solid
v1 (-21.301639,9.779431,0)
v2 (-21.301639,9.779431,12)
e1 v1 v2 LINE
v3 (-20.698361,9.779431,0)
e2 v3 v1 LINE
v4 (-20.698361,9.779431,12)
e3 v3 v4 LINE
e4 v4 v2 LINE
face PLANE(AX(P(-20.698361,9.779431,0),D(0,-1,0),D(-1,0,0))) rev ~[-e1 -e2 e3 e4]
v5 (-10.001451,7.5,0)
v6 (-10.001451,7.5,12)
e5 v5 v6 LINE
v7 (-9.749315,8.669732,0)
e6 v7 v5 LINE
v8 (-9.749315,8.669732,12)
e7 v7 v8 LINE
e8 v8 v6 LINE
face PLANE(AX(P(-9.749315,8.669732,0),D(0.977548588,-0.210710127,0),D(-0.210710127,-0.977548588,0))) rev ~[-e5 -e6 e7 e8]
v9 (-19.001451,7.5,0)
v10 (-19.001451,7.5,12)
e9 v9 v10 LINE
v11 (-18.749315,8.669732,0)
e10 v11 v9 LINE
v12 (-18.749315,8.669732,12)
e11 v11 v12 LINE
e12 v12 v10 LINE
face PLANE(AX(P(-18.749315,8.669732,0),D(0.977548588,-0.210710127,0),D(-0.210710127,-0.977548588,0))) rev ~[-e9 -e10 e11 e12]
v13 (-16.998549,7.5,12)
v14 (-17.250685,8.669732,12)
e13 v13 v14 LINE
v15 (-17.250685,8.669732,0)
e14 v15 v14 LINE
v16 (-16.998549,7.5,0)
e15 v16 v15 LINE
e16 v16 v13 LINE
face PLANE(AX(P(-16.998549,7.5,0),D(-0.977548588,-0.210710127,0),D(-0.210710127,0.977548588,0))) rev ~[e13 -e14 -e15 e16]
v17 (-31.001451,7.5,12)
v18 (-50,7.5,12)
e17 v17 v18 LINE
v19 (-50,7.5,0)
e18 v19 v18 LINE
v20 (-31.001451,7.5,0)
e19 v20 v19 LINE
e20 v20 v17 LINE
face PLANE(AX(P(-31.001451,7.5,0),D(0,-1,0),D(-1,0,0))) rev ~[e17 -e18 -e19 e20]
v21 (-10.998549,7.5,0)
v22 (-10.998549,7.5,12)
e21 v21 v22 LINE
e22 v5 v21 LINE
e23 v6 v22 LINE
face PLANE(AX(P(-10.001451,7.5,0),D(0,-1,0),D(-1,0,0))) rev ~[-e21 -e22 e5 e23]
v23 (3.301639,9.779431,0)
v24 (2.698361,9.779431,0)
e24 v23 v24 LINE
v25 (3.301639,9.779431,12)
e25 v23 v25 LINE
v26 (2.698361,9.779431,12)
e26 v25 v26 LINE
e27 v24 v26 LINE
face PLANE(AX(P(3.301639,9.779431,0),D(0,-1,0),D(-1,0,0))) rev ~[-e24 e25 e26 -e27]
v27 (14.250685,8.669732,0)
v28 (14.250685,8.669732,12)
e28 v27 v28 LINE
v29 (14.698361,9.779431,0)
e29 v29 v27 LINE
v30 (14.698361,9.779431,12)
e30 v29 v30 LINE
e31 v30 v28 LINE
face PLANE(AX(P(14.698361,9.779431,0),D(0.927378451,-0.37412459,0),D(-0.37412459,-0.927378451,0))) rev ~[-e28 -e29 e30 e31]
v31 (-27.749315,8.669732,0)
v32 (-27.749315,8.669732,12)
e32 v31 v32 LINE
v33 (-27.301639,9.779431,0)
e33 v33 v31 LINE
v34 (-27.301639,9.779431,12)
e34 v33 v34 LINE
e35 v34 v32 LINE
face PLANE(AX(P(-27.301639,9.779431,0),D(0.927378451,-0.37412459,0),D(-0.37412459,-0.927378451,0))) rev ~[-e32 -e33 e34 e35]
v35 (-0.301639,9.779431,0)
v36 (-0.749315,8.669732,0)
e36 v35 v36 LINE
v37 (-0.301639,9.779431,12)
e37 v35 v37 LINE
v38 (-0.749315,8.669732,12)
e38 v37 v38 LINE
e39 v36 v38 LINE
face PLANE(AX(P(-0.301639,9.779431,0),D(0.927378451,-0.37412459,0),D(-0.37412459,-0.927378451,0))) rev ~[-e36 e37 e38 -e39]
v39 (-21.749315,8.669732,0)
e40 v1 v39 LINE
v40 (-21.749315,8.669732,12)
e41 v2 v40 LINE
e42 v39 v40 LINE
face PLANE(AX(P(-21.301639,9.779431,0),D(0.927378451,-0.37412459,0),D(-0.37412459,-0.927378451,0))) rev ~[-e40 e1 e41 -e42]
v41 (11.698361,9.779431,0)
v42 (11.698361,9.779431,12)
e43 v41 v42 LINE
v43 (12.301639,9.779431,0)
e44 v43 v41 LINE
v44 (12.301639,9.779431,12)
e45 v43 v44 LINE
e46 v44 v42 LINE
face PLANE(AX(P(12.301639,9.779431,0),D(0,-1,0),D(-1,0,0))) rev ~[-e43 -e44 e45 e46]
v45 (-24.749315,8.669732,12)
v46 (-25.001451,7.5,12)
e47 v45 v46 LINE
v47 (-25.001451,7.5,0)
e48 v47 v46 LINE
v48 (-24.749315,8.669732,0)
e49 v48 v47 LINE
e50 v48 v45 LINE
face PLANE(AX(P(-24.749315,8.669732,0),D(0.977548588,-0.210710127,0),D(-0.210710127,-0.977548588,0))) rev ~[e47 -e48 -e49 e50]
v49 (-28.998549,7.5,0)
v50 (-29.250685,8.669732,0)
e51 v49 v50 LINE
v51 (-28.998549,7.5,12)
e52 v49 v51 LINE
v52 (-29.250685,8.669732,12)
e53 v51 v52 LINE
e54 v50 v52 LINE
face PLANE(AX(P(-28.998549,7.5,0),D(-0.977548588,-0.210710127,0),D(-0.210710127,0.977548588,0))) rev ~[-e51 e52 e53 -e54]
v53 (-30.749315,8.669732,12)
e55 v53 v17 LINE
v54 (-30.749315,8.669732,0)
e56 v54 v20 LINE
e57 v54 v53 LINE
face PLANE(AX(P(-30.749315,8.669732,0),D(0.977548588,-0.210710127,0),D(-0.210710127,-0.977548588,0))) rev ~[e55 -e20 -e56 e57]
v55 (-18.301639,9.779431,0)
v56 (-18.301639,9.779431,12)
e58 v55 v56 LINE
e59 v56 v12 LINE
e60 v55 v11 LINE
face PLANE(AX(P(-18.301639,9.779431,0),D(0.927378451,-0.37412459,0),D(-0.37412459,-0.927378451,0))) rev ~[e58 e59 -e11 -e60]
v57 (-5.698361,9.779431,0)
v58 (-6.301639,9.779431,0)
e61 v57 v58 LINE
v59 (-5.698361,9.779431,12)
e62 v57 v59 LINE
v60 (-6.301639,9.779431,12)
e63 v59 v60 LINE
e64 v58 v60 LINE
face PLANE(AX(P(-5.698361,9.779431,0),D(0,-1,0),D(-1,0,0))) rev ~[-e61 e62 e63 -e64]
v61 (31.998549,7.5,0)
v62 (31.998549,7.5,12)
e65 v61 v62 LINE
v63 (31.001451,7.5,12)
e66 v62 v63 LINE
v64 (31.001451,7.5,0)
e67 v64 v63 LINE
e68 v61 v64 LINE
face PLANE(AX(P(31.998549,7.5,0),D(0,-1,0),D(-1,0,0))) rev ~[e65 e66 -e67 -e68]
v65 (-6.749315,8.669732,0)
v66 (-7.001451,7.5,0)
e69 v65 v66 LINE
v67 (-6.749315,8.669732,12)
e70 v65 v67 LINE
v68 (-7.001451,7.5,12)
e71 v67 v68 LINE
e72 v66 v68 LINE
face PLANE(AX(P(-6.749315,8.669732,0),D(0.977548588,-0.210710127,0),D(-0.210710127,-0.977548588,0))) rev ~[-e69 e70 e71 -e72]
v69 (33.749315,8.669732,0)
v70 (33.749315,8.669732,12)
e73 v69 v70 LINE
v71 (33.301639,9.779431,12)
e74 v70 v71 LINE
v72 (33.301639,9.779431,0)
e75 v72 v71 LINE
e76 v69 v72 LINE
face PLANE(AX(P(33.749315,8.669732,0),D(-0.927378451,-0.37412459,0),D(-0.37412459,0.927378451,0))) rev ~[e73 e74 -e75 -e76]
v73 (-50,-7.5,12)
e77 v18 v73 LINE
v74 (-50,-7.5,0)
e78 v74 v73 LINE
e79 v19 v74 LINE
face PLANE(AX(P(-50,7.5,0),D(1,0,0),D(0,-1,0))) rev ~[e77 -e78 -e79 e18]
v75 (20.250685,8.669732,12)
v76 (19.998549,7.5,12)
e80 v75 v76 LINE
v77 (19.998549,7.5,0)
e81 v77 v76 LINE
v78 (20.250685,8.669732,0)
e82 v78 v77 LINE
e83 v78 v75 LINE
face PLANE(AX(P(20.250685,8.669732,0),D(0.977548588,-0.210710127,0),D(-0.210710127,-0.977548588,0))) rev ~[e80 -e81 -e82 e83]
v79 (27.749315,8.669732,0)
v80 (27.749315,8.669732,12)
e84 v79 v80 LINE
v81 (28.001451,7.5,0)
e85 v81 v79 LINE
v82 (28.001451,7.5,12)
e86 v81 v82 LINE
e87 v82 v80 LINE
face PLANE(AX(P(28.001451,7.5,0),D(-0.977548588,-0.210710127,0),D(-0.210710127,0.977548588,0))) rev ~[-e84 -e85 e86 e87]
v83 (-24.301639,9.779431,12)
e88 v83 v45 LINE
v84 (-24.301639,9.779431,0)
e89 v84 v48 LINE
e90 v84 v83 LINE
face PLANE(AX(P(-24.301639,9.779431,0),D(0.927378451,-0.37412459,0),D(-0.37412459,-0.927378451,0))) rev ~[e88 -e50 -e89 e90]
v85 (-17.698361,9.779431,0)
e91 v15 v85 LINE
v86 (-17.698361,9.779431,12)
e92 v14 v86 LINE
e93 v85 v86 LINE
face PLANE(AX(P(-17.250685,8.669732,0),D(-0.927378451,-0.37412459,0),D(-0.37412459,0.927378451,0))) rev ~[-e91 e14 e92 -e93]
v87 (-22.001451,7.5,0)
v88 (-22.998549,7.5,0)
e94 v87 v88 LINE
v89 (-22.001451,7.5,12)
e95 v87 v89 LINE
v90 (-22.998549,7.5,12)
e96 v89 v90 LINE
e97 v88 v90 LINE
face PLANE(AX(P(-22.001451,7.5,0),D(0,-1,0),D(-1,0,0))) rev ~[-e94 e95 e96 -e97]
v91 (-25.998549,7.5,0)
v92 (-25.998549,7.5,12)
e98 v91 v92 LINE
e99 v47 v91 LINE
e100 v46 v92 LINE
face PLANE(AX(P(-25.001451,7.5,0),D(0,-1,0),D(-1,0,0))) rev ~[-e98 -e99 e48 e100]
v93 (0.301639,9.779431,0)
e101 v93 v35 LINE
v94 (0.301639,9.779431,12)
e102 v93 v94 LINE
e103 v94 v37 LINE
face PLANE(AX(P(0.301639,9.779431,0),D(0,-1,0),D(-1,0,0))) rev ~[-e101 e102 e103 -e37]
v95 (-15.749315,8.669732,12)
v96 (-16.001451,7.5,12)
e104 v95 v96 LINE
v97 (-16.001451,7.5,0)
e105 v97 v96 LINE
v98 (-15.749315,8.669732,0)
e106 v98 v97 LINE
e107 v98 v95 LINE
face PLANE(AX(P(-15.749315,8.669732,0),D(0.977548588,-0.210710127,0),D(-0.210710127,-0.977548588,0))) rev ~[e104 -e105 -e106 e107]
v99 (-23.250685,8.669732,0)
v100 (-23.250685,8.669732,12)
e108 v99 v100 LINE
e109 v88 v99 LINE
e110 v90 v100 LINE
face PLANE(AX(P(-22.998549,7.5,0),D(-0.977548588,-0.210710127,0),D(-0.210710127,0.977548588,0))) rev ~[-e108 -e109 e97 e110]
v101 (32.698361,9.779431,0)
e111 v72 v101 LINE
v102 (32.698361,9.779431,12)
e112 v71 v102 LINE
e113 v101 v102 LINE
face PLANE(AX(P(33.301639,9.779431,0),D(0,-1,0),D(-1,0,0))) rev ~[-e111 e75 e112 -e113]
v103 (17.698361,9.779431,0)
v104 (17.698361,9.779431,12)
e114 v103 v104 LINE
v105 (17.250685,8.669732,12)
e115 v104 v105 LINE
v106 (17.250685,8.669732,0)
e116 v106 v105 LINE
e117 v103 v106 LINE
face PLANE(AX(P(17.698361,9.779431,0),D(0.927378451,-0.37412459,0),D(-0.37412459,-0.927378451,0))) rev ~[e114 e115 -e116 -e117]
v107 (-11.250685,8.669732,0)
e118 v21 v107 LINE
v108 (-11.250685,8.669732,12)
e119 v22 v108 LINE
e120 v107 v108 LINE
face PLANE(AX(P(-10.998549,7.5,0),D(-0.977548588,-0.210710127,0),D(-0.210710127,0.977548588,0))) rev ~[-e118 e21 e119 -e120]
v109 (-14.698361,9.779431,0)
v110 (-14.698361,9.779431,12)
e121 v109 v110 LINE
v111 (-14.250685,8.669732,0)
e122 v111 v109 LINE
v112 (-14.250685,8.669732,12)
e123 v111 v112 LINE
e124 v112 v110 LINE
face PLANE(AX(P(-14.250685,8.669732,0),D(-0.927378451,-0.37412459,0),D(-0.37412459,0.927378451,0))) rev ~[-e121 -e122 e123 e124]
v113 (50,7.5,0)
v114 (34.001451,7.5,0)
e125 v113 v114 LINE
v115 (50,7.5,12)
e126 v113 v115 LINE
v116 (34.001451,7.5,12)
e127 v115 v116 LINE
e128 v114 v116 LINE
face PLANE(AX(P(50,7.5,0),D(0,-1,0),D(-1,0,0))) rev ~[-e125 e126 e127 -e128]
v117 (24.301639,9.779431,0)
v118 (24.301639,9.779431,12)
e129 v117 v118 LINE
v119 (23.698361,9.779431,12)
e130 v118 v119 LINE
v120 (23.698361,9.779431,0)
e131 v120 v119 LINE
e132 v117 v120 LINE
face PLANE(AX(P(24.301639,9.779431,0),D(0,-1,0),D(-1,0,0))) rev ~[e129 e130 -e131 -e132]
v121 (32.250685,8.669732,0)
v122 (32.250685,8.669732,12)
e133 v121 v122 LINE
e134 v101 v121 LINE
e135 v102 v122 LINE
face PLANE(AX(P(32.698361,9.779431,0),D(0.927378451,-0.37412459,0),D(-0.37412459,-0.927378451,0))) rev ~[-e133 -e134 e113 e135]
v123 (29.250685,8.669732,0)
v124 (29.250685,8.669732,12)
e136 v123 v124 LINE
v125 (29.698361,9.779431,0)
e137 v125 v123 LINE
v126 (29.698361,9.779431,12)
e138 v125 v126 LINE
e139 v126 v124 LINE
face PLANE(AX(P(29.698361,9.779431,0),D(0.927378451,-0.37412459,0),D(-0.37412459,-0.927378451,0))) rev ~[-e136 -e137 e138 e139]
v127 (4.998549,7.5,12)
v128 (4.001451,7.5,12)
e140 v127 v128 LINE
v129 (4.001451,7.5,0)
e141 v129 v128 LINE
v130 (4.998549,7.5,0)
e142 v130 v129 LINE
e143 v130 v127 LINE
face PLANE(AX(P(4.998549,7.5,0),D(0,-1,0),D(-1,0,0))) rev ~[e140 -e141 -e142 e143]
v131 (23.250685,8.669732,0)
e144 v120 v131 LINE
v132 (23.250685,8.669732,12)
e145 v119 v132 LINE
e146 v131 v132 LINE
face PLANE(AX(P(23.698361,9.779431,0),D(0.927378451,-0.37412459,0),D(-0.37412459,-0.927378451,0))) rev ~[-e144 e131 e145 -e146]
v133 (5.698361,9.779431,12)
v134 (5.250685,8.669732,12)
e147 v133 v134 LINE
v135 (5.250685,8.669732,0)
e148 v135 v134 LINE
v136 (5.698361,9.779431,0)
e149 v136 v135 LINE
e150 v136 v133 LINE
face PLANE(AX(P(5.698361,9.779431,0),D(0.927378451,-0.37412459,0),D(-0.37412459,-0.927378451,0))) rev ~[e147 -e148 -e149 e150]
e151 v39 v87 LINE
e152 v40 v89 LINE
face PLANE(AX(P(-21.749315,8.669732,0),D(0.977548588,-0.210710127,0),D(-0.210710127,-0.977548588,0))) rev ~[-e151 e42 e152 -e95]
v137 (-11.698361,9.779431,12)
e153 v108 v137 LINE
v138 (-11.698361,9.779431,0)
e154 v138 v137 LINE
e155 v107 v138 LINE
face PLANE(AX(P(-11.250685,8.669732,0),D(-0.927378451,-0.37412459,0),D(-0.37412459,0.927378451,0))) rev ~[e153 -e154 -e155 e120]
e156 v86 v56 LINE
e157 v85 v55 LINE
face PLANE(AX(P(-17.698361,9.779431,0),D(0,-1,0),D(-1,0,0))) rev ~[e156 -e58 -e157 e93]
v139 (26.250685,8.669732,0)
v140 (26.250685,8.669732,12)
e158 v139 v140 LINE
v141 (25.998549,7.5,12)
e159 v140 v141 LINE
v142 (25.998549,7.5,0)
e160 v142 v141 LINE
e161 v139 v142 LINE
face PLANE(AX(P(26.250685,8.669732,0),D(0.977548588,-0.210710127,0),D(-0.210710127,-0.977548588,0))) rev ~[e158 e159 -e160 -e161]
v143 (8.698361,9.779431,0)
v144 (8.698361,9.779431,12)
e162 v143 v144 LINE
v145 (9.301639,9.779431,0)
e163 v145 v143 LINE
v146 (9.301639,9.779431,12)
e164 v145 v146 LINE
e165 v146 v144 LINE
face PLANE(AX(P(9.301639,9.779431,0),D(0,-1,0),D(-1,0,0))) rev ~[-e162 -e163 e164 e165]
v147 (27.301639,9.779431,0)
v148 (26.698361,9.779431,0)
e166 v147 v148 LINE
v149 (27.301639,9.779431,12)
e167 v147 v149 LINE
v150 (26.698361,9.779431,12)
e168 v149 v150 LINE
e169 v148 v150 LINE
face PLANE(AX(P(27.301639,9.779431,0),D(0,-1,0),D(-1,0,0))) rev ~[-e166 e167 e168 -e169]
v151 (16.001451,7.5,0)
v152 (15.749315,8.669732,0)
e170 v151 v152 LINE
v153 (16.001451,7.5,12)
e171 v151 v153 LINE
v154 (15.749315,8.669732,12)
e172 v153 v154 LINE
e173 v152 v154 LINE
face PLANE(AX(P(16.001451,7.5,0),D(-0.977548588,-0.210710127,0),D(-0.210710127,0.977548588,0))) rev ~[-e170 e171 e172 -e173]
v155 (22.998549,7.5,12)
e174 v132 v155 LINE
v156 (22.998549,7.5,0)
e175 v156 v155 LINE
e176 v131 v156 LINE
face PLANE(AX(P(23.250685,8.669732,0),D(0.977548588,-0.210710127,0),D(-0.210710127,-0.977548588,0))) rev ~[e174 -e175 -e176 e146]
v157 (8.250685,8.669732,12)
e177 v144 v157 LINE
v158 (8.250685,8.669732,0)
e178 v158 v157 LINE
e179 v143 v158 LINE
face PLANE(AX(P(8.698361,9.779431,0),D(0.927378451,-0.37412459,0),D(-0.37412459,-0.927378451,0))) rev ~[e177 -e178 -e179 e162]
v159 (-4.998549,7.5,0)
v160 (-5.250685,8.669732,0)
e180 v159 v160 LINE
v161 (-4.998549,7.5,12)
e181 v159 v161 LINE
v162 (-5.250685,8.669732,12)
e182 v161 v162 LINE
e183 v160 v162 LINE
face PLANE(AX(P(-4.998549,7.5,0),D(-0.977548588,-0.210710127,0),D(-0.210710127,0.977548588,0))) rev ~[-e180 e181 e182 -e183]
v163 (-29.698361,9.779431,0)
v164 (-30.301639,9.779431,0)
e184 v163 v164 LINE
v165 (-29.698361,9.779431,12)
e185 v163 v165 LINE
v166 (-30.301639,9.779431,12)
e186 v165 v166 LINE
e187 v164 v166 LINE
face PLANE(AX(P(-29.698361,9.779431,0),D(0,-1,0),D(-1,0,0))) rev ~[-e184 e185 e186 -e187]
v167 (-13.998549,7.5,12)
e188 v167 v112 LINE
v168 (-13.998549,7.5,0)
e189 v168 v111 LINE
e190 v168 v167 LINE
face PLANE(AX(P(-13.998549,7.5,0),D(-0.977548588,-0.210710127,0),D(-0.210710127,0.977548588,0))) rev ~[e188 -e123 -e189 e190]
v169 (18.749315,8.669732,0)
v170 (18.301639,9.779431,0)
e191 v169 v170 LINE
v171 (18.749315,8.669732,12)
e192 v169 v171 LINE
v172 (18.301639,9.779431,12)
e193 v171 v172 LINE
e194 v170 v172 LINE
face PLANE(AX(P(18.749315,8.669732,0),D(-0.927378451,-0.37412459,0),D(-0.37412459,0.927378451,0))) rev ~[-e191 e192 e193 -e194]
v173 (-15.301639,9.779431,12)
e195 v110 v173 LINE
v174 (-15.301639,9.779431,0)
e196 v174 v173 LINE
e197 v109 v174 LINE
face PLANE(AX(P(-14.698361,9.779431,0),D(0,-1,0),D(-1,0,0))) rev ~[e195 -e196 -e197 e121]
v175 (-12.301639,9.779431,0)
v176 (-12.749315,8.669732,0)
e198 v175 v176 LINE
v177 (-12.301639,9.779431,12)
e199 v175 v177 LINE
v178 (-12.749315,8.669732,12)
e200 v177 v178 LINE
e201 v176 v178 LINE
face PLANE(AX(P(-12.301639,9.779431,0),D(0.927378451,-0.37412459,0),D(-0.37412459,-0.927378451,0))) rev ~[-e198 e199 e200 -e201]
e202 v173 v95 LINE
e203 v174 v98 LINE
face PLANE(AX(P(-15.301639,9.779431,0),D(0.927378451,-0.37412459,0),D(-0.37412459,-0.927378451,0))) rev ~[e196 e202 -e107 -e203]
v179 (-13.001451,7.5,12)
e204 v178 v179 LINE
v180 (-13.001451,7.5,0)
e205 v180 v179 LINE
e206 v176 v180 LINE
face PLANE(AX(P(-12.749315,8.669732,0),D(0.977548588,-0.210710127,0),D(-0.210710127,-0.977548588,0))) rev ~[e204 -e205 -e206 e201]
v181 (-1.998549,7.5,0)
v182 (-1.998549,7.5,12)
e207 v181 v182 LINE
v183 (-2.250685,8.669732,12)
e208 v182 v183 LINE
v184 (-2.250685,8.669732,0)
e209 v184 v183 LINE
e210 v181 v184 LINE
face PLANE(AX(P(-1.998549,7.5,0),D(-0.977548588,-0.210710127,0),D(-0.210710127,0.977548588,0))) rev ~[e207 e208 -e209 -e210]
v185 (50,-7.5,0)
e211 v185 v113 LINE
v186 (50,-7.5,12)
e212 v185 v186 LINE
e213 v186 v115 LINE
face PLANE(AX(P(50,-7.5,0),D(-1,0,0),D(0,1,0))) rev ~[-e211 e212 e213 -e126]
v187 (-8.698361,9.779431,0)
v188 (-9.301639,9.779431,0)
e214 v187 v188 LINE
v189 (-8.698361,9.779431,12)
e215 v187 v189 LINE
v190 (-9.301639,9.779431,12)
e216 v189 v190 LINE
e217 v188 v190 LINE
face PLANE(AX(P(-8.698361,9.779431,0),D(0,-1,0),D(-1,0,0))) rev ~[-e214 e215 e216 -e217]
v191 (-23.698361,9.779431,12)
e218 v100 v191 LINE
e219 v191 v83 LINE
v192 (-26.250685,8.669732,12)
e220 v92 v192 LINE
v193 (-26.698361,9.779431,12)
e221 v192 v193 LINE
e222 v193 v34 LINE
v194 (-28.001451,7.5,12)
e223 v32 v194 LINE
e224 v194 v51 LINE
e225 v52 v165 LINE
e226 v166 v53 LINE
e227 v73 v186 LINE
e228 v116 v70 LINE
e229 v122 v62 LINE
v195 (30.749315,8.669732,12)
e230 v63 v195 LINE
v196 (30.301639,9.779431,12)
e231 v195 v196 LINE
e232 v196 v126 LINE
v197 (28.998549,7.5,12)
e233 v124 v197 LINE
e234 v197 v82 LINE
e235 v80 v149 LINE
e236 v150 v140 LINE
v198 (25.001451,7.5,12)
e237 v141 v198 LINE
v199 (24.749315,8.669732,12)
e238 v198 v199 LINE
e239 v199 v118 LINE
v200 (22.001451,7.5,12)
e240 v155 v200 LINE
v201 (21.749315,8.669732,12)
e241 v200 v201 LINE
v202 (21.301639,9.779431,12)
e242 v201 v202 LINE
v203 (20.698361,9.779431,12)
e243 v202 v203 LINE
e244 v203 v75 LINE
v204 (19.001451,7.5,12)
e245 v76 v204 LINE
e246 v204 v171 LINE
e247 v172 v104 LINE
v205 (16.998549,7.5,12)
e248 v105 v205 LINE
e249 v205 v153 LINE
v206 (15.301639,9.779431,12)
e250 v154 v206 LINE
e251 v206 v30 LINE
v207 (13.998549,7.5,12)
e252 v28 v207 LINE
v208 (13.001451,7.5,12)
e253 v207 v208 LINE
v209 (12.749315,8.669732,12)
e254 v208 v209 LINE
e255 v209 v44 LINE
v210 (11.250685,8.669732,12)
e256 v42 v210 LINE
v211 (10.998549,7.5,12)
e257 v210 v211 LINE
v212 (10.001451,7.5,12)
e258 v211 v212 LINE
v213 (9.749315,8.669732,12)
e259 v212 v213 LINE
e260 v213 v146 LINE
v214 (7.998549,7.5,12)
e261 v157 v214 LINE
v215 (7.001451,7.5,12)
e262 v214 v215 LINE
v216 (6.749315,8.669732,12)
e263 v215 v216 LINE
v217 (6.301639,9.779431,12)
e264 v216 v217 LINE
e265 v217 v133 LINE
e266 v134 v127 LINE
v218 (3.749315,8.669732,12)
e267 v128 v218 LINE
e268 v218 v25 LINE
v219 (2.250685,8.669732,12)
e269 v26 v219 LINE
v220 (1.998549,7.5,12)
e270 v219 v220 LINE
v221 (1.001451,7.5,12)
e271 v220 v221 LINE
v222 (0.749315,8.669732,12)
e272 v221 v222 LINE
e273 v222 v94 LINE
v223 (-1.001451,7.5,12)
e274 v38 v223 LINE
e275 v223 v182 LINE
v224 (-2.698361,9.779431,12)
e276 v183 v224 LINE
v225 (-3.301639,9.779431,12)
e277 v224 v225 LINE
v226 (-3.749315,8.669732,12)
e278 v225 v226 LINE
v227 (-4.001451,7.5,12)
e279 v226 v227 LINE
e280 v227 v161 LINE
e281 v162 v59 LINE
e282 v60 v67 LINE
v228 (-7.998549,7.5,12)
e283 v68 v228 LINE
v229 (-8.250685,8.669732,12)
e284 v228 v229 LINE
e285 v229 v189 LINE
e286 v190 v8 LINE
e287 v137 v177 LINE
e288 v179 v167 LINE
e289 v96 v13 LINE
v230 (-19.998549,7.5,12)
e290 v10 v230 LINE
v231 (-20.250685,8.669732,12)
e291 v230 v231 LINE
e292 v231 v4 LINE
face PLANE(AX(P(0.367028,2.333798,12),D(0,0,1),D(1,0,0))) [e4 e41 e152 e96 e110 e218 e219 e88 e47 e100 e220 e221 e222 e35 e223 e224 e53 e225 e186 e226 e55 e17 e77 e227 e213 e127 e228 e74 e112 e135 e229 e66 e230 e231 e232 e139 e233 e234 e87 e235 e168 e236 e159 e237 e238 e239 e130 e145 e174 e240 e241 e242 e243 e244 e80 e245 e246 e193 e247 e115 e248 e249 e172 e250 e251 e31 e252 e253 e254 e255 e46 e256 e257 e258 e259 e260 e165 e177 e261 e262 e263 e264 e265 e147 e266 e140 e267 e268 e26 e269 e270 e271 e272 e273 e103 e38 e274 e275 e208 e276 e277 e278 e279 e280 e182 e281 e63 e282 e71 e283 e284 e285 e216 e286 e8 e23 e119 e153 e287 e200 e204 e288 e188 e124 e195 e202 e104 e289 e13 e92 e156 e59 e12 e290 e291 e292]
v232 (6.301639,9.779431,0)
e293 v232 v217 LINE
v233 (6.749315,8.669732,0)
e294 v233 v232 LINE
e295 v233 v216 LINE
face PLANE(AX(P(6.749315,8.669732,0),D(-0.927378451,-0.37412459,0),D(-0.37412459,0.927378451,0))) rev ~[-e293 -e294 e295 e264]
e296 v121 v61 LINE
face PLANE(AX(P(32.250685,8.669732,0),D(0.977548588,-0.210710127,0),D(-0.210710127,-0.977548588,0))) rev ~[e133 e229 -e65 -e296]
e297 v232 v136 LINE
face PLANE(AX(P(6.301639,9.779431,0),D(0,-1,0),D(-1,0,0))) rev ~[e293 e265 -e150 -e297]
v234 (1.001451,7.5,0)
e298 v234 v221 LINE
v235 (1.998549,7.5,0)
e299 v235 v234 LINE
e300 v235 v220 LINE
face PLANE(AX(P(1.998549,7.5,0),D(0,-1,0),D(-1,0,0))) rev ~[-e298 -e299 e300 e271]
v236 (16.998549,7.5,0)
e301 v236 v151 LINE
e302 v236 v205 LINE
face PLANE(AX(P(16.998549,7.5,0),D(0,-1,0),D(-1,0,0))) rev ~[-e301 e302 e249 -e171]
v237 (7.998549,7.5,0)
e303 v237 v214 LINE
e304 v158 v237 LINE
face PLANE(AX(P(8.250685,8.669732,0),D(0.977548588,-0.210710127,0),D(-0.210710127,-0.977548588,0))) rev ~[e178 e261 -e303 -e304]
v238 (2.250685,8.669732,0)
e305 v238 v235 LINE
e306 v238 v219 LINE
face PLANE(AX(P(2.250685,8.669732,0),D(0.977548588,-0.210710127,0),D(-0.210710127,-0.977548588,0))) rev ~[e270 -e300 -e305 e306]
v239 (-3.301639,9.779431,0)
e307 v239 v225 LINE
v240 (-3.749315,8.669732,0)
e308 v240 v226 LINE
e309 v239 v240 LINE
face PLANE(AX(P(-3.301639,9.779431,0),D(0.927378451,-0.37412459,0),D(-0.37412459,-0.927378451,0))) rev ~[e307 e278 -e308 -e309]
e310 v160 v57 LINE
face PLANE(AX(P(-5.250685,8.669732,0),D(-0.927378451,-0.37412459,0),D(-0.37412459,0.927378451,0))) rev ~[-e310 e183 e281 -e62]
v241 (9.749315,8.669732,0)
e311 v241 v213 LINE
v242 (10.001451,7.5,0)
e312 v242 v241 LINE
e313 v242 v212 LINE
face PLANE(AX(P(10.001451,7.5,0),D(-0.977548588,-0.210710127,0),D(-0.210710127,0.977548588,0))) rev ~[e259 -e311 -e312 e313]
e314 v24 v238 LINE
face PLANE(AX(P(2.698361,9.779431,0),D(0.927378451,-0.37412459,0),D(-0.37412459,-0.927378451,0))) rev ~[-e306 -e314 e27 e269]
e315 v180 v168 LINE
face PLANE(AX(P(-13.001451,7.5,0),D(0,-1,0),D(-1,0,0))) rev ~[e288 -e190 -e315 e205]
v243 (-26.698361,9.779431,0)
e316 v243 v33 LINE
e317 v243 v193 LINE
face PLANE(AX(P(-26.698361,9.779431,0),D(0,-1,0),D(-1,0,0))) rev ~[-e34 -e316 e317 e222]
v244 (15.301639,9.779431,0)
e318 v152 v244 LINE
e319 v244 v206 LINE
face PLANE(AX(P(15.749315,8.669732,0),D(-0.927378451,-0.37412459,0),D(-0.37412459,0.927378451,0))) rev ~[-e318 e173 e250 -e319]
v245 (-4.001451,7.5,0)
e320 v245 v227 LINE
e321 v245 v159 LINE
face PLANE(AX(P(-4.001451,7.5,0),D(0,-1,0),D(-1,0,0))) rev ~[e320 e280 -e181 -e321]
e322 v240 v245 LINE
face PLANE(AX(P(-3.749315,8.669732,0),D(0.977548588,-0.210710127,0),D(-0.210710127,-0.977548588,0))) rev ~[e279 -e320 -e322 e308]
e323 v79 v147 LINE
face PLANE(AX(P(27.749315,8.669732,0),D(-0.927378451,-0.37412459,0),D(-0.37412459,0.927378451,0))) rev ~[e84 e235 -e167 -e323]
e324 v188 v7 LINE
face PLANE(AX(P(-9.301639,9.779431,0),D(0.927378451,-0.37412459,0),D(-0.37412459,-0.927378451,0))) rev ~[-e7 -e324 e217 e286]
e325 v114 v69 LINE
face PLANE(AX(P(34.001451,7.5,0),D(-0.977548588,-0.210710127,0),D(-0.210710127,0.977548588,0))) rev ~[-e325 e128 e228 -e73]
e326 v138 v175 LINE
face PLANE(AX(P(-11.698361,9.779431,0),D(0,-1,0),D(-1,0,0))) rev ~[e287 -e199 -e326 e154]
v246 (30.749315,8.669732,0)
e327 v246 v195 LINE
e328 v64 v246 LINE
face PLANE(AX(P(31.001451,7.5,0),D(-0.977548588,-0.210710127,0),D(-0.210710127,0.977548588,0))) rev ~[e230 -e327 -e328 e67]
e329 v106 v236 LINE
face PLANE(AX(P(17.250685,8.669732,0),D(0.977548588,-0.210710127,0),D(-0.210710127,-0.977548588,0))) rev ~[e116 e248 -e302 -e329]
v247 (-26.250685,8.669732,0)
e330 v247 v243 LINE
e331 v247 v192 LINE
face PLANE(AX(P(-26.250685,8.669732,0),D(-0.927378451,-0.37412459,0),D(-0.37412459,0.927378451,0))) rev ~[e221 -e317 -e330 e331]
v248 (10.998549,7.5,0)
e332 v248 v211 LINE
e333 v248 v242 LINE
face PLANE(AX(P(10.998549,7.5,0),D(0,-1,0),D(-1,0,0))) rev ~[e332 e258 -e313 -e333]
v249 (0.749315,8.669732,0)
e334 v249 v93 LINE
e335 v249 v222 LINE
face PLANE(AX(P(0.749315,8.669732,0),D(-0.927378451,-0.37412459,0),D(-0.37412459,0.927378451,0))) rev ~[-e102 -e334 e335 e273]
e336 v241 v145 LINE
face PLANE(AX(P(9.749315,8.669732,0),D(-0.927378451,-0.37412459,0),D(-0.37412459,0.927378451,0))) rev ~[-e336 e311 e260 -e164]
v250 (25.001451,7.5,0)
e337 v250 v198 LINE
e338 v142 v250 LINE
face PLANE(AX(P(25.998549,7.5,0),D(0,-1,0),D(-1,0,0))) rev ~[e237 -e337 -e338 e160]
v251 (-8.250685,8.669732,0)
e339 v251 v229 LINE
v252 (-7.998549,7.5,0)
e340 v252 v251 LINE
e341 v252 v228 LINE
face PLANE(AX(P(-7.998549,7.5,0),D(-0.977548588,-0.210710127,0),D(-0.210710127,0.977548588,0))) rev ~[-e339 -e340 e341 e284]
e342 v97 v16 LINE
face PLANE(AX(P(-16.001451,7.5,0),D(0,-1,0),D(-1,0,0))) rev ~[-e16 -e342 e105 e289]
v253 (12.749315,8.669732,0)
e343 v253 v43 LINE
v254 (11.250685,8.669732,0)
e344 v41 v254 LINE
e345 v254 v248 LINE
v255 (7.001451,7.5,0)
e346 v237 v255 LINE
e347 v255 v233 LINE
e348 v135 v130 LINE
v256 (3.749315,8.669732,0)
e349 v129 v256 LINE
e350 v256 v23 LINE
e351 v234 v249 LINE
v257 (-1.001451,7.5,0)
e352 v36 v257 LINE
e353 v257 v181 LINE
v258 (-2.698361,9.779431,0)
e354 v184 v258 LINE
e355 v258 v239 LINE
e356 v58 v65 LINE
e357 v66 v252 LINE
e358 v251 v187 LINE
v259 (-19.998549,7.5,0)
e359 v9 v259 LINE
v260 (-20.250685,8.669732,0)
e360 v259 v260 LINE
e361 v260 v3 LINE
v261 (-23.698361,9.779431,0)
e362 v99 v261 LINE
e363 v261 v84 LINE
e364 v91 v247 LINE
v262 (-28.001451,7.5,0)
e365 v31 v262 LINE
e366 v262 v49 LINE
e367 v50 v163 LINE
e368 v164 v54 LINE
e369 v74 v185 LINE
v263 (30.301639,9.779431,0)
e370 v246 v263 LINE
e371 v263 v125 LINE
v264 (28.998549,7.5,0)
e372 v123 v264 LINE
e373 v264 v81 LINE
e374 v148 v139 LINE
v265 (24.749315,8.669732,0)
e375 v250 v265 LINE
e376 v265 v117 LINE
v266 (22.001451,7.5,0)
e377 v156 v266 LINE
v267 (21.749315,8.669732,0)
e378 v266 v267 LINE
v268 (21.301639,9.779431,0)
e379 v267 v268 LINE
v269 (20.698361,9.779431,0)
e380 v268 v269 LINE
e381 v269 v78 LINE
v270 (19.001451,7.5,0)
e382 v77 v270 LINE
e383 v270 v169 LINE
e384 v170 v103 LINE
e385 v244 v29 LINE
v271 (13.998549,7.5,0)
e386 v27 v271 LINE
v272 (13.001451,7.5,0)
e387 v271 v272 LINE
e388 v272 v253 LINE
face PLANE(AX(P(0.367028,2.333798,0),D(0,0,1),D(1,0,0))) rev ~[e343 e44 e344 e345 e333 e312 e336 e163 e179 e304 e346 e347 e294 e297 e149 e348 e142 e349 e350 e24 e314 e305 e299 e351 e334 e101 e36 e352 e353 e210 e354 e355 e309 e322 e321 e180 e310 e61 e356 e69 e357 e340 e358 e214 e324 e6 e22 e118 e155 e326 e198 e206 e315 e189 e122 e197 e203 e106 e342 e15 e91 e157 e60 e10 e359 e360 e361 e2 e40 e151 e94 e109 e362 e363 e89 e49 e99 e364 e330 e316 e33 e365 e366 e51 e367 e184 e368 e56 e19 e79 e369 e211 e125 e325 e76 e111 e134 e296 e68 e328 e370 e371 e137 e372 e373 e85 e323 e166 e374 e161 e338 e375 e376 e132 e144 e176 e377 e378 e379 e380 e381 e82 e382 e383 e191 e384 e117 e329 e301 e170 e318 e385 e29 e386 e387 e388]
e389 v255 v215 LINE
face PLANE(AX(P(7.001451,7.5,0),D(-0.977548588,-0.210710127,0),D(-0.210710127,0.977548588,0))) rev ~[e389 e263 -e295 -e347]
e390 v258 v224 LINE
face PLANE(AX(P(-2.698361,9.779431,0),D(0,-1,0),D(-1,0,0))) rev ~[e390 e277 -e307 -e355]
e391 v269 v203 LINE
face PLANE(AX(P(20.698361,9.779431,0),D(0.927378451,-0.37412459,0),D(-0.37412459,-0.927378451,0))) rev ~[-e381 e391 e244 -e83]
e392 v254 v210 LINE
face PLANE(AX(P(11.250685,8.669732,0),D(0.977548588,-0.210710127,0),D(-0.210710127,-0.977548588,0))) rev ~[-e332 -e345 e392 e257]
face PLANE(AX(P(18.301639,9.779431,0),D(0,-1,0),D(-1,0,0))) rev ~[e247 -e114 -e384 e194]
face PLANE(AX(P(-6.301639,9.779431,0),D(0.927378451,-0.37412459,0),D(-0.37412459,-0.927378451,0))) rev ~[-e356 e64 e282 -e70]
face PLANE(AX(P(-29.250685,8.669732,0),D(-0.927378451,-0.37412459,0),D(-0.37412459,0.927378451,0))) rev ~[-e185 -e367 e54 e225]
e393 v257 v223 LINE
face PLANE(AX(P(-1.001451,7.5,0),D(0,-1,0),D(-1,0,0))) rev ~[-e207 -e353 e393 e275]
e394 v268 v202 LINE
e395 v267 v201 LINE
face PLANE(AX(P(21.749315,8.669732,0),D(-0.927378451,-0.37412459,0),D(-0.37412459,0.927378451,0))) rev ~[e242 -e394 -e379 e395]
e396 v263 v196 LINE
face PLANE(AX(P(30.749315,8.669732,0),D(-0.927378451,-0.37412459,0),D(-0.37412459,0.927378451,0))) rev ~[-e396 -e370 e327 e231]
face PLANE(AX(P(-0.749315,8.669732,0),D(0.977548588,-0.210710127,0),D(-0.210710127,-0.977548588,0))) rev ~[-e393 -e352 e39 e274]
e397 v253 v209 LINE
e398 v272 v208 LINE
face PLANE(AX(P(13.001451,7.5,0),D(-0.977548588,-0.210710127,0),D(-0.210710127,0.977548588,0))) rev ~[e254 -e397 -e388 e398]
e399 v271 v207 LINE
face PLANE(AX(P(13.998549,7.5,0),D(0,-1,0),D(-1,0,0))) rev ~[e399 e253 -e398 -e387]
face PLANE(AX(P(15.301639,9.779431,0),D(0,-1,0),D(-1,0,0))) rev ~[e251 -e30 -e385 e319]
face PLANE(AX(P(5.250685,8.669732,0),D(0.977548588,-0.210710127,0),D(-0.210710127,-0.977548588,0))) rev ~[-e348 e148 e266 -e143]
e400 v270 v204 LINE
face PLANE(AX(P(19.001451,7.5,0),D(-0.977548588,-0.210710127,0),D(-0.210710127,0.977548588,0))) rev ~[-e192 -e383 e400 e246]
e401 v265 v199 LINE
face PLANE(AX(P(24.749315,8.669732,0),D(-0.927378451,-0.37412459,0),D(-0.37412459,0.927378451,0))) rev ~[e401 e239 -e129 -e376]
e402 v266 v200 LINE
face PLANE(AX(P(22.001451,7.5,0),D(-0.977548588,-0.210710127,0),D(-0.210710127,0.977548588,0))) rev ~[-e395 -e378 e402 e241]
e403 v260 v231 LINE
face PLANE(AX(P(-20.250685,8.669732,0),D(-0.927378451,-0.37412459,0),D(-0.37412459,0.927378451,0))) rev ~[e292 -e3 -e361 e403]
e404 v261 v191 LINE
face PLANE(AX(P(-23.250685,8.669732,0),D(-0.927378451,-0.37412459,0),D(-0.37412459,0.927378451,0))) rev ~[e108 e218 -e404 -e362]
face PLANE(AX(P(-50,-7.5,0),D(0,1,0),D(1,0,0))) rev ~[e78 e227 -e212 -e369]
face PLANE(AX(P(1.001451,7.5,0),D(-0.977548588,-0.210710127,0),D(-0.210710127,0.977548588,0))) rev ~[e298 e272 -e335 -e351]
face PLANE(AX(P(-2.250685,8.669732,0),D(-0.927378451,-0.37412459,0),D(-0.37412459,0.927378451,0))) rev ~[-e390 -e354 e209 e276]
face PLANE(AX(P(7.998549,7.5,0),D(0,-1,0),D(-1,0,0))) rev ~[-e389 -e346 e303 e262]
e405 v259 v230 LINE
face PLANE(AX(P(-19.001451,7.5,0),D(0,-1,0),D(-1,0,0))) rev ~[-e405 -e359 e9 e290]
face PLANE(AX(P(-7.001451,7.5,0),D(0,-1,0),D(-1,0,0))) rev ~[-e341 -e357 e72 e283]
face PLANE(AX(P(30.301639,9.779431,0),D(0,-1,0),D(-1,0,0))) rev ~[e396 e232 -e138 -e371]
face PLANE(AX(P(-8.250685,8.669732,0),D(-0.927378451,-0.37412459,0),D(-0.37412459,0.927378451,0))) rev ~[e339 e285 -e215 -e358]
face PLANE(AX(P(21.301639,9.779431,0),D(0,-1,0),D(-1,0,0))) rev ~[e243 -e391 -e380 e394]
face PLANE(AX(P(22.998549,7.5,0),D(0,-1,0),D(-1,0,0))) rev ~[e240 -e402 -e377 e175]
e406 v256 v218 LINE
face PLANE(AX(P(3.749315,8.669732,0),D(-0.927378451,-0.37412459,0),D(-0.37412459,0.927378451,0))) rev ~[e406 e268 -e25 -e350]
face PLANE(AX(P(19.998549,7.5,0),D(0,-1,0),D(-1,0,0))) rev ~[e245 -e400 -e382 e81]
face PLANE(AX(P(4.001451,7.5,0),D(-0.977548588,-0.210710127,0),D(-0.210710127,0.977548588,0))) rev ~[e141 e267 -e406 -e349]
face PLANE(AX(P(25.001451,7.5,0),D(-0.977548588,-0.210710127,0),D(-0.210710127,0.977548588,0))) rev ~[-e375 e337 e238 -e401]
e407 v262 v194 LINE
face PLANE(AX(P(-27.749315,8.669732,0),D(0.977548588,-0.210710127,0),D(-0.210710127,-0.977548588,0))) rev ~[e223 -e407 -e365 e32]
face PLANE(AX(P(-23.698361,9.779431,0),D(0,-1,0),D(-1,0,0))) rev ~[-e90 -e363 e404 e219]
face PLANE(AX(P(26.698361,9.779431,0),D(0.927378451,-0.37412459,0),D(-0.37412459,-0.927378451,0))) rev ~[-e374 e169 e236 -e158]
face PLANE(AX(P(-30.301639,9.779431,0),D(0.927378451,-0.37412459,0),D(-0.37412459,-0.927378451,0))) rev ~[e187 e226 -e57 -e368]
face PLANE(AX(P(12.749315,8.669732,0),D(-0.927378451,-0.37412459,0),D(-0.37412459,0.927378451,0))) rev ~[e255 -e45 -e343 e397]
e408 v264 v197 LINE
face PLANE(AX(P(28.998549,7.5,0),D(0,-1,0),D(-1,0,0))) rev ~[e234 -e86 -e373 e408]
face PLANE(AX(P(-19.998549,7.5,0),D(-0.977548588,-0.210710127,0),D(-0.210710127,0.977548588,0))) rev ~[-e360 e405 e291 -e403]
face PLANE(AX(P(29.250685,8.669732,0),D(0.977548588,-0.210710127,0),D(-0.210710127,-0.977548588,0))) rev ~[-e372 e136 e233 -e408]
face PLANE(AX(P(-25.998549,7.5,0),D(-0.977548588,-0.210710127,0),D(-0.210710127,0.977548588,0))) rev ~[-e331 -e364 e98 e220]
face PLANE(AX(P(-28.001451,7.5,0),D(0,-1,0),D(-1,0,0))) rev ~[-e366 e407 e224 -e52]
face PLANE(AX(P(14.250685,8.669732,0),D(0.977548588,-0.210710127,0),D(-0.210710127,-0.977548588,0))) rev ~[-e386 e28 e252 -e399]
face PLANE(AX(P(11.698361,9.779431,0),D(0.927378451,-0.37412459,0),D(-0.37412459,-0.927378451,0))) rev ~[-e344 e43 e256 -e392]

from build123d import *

# Parameters (mm, degrees)
BOSS_EXTRUDE1_DEPTH = 12


with BuildPart() as part:
    # Sketch1 → Boss-Extrude1 (new body)
    with BuildSketch(Plane.XY):
        Polygon((1.001450614, 7.5), (0.749315442, 8.669732015), (0.301638962, 9.779430578), (-0.301638962, 9.779430578), (-0.749315442, 8.669732015), (-1.001450614, 7.5), (-1.998549386, 7.5), (-2.250684558, 8.669732015), (-2.698361038, 9.779430578), (-3.301638962, 9.779430578), (-3.749315442, 8.669732015), (-4.001450614, 7.5), (-4.998549386, 7.5), (-5.250684558, 8.669732015), (-5.698361038, 9.779430578), (-6.301638962, 9.779430578), (-6.749315442, 8.669732015), (-7.001450614, 7.5), (-7.998549386, 7.5), (-8.250684558, 8.669732015), (-8.698361038, 9.779430578), (-9.301638962, 9.779430578), (-9.749315442, 8.669732015), (-10.001450614, 7.5), (-10.998549386, 7.5), (-11.250684558, 8.669732015), (-11.698361038, 9.779430578), (-12.301638962, 9.779430578), (-12.749315442, 8.669732015), (-13.001450614, 7.5), (-13.998549386, 7.5), (-14.250684558, 8.669732015), (-14.698361038, 9.779430578), (-15.301638962, 9.779430578), (-15.749315442, 8.669732015), (-16.001450614, 7.5), (-16.998549386, 7.5), (-17.250684558, 8.669732015), (-17.698361038, 9.779430578), (-18.301638962, 9.779430578), (-18.749315442, 8.669732015), (-19.001450614, 7.5), (-19.998549386, 7.5), (-20.250684558, 8.669732015), (-20.698361038, 9.779430578), (-21.301638962, 9.779430578), (-21.749315442, 8.669732015), (-22.001450614, 7.5), (-22.998549386, 7.5), (-23.250684558, 8.669732015), (-23.698361038, 9.779430578), (-24.301638962, 9.779430578), (-24.749315442, 8.669732015), (-25.001450614, 7.5), (-25.998549386, 7.5), (-26.250684558, 8.669732015), (-26.698361038, 9.779430578), (-27.301638962, 9.779430578), (-27.749315442, 8.669732015), (-28.001450614, 7.5), (-28.998549386, 7.5), (-29.250684558, 8.669732015), (-29.698361038, 9.779430578), (-30.301638962, 9.779430578), (-30.749315442, 8.669732015), (-31.001450614, 7.5), (-50, 7.5), (-50, -7.5), (50, -7.5), (50, 7.5), (34.001450614, 7.5), (33.749315442, 8.669732015), (33.301638962, 9.779430578), (32.698361038, 9.779430578), (32.250684558, 8.669732015), (31.998549386, 7.5), (31.001450614, 7.5), (30.749315442, 8.669732015), (30.301638962, 9.779430578), (29.698361038, 9.779430578), (29.250684558, 8.669732015), (28.998549386, 7.5), (28.001450614, 7.5), (27.749315442, 8.669732015), (27.301638962, 9.779430578), (26.698361038, 9.779430578), (26.250684558, 8.669732015), (25.998549386, 7.5), (25.001450614, 7.5), (24.749315442, 8.669732015), (24.301638962, 9.779430578), (23.698361038, 9.779430578), (23.250684558, 8.669732015), (22.998549386, 7.5), (22.001450614, 7.5), (21.749315442, 8.669732015), (21.301638962, 9.779430578), (20.698361038, 9.779430578), (20.250684558, 8.669732015), (19.998549386, 7.5), (19.001450614, 7.5), (18.749315442, 8.669732015), (18.301638962, 9.779430578), (17.698361038, 9.779430578), (17.250684558, 8.669732015), (16.998549386, 7.5), (16.001450614, 7.5), (15.749315442, 8.669732015), (15.301638962, 9.779430578), (14.698361038, 9.779430578), (14.250684558, 8.669732015), (13.998549386, 7.5), (13.001450614, 7.5), (12.749315442, 8.669732015), (12.301638962, 9.779430578), (11.698361038, 9.779430578), (11.250684558, 8.669732015), (10.998549386, 7.5), (10.001450614, 7.5), (9.749315442, 8.669732015), (9.301638962, 9.779430578), (8.698361038, 9.779430578), (8.250684558, 8.669732015), (7.998549386, 7.5), (7.001450614, 7.5), (6.749315442, 8.669732015), (6.301638962, 9.779430578), (5.698361038, 9.779430578), (5.250684558, 8.669732015), (4.998549386, 7.5), (4.001450614, 7.5), (3.749315442, 8.669732015), (3.301638962, 9.779430578), (2.698361038, 9.779430578), (2.250684558, 8.669732015), (1.998549386, 7.5), align=None)
    extrude(amount=BOSS_EXTRUDE1_DEPTH)


solid = part.part
